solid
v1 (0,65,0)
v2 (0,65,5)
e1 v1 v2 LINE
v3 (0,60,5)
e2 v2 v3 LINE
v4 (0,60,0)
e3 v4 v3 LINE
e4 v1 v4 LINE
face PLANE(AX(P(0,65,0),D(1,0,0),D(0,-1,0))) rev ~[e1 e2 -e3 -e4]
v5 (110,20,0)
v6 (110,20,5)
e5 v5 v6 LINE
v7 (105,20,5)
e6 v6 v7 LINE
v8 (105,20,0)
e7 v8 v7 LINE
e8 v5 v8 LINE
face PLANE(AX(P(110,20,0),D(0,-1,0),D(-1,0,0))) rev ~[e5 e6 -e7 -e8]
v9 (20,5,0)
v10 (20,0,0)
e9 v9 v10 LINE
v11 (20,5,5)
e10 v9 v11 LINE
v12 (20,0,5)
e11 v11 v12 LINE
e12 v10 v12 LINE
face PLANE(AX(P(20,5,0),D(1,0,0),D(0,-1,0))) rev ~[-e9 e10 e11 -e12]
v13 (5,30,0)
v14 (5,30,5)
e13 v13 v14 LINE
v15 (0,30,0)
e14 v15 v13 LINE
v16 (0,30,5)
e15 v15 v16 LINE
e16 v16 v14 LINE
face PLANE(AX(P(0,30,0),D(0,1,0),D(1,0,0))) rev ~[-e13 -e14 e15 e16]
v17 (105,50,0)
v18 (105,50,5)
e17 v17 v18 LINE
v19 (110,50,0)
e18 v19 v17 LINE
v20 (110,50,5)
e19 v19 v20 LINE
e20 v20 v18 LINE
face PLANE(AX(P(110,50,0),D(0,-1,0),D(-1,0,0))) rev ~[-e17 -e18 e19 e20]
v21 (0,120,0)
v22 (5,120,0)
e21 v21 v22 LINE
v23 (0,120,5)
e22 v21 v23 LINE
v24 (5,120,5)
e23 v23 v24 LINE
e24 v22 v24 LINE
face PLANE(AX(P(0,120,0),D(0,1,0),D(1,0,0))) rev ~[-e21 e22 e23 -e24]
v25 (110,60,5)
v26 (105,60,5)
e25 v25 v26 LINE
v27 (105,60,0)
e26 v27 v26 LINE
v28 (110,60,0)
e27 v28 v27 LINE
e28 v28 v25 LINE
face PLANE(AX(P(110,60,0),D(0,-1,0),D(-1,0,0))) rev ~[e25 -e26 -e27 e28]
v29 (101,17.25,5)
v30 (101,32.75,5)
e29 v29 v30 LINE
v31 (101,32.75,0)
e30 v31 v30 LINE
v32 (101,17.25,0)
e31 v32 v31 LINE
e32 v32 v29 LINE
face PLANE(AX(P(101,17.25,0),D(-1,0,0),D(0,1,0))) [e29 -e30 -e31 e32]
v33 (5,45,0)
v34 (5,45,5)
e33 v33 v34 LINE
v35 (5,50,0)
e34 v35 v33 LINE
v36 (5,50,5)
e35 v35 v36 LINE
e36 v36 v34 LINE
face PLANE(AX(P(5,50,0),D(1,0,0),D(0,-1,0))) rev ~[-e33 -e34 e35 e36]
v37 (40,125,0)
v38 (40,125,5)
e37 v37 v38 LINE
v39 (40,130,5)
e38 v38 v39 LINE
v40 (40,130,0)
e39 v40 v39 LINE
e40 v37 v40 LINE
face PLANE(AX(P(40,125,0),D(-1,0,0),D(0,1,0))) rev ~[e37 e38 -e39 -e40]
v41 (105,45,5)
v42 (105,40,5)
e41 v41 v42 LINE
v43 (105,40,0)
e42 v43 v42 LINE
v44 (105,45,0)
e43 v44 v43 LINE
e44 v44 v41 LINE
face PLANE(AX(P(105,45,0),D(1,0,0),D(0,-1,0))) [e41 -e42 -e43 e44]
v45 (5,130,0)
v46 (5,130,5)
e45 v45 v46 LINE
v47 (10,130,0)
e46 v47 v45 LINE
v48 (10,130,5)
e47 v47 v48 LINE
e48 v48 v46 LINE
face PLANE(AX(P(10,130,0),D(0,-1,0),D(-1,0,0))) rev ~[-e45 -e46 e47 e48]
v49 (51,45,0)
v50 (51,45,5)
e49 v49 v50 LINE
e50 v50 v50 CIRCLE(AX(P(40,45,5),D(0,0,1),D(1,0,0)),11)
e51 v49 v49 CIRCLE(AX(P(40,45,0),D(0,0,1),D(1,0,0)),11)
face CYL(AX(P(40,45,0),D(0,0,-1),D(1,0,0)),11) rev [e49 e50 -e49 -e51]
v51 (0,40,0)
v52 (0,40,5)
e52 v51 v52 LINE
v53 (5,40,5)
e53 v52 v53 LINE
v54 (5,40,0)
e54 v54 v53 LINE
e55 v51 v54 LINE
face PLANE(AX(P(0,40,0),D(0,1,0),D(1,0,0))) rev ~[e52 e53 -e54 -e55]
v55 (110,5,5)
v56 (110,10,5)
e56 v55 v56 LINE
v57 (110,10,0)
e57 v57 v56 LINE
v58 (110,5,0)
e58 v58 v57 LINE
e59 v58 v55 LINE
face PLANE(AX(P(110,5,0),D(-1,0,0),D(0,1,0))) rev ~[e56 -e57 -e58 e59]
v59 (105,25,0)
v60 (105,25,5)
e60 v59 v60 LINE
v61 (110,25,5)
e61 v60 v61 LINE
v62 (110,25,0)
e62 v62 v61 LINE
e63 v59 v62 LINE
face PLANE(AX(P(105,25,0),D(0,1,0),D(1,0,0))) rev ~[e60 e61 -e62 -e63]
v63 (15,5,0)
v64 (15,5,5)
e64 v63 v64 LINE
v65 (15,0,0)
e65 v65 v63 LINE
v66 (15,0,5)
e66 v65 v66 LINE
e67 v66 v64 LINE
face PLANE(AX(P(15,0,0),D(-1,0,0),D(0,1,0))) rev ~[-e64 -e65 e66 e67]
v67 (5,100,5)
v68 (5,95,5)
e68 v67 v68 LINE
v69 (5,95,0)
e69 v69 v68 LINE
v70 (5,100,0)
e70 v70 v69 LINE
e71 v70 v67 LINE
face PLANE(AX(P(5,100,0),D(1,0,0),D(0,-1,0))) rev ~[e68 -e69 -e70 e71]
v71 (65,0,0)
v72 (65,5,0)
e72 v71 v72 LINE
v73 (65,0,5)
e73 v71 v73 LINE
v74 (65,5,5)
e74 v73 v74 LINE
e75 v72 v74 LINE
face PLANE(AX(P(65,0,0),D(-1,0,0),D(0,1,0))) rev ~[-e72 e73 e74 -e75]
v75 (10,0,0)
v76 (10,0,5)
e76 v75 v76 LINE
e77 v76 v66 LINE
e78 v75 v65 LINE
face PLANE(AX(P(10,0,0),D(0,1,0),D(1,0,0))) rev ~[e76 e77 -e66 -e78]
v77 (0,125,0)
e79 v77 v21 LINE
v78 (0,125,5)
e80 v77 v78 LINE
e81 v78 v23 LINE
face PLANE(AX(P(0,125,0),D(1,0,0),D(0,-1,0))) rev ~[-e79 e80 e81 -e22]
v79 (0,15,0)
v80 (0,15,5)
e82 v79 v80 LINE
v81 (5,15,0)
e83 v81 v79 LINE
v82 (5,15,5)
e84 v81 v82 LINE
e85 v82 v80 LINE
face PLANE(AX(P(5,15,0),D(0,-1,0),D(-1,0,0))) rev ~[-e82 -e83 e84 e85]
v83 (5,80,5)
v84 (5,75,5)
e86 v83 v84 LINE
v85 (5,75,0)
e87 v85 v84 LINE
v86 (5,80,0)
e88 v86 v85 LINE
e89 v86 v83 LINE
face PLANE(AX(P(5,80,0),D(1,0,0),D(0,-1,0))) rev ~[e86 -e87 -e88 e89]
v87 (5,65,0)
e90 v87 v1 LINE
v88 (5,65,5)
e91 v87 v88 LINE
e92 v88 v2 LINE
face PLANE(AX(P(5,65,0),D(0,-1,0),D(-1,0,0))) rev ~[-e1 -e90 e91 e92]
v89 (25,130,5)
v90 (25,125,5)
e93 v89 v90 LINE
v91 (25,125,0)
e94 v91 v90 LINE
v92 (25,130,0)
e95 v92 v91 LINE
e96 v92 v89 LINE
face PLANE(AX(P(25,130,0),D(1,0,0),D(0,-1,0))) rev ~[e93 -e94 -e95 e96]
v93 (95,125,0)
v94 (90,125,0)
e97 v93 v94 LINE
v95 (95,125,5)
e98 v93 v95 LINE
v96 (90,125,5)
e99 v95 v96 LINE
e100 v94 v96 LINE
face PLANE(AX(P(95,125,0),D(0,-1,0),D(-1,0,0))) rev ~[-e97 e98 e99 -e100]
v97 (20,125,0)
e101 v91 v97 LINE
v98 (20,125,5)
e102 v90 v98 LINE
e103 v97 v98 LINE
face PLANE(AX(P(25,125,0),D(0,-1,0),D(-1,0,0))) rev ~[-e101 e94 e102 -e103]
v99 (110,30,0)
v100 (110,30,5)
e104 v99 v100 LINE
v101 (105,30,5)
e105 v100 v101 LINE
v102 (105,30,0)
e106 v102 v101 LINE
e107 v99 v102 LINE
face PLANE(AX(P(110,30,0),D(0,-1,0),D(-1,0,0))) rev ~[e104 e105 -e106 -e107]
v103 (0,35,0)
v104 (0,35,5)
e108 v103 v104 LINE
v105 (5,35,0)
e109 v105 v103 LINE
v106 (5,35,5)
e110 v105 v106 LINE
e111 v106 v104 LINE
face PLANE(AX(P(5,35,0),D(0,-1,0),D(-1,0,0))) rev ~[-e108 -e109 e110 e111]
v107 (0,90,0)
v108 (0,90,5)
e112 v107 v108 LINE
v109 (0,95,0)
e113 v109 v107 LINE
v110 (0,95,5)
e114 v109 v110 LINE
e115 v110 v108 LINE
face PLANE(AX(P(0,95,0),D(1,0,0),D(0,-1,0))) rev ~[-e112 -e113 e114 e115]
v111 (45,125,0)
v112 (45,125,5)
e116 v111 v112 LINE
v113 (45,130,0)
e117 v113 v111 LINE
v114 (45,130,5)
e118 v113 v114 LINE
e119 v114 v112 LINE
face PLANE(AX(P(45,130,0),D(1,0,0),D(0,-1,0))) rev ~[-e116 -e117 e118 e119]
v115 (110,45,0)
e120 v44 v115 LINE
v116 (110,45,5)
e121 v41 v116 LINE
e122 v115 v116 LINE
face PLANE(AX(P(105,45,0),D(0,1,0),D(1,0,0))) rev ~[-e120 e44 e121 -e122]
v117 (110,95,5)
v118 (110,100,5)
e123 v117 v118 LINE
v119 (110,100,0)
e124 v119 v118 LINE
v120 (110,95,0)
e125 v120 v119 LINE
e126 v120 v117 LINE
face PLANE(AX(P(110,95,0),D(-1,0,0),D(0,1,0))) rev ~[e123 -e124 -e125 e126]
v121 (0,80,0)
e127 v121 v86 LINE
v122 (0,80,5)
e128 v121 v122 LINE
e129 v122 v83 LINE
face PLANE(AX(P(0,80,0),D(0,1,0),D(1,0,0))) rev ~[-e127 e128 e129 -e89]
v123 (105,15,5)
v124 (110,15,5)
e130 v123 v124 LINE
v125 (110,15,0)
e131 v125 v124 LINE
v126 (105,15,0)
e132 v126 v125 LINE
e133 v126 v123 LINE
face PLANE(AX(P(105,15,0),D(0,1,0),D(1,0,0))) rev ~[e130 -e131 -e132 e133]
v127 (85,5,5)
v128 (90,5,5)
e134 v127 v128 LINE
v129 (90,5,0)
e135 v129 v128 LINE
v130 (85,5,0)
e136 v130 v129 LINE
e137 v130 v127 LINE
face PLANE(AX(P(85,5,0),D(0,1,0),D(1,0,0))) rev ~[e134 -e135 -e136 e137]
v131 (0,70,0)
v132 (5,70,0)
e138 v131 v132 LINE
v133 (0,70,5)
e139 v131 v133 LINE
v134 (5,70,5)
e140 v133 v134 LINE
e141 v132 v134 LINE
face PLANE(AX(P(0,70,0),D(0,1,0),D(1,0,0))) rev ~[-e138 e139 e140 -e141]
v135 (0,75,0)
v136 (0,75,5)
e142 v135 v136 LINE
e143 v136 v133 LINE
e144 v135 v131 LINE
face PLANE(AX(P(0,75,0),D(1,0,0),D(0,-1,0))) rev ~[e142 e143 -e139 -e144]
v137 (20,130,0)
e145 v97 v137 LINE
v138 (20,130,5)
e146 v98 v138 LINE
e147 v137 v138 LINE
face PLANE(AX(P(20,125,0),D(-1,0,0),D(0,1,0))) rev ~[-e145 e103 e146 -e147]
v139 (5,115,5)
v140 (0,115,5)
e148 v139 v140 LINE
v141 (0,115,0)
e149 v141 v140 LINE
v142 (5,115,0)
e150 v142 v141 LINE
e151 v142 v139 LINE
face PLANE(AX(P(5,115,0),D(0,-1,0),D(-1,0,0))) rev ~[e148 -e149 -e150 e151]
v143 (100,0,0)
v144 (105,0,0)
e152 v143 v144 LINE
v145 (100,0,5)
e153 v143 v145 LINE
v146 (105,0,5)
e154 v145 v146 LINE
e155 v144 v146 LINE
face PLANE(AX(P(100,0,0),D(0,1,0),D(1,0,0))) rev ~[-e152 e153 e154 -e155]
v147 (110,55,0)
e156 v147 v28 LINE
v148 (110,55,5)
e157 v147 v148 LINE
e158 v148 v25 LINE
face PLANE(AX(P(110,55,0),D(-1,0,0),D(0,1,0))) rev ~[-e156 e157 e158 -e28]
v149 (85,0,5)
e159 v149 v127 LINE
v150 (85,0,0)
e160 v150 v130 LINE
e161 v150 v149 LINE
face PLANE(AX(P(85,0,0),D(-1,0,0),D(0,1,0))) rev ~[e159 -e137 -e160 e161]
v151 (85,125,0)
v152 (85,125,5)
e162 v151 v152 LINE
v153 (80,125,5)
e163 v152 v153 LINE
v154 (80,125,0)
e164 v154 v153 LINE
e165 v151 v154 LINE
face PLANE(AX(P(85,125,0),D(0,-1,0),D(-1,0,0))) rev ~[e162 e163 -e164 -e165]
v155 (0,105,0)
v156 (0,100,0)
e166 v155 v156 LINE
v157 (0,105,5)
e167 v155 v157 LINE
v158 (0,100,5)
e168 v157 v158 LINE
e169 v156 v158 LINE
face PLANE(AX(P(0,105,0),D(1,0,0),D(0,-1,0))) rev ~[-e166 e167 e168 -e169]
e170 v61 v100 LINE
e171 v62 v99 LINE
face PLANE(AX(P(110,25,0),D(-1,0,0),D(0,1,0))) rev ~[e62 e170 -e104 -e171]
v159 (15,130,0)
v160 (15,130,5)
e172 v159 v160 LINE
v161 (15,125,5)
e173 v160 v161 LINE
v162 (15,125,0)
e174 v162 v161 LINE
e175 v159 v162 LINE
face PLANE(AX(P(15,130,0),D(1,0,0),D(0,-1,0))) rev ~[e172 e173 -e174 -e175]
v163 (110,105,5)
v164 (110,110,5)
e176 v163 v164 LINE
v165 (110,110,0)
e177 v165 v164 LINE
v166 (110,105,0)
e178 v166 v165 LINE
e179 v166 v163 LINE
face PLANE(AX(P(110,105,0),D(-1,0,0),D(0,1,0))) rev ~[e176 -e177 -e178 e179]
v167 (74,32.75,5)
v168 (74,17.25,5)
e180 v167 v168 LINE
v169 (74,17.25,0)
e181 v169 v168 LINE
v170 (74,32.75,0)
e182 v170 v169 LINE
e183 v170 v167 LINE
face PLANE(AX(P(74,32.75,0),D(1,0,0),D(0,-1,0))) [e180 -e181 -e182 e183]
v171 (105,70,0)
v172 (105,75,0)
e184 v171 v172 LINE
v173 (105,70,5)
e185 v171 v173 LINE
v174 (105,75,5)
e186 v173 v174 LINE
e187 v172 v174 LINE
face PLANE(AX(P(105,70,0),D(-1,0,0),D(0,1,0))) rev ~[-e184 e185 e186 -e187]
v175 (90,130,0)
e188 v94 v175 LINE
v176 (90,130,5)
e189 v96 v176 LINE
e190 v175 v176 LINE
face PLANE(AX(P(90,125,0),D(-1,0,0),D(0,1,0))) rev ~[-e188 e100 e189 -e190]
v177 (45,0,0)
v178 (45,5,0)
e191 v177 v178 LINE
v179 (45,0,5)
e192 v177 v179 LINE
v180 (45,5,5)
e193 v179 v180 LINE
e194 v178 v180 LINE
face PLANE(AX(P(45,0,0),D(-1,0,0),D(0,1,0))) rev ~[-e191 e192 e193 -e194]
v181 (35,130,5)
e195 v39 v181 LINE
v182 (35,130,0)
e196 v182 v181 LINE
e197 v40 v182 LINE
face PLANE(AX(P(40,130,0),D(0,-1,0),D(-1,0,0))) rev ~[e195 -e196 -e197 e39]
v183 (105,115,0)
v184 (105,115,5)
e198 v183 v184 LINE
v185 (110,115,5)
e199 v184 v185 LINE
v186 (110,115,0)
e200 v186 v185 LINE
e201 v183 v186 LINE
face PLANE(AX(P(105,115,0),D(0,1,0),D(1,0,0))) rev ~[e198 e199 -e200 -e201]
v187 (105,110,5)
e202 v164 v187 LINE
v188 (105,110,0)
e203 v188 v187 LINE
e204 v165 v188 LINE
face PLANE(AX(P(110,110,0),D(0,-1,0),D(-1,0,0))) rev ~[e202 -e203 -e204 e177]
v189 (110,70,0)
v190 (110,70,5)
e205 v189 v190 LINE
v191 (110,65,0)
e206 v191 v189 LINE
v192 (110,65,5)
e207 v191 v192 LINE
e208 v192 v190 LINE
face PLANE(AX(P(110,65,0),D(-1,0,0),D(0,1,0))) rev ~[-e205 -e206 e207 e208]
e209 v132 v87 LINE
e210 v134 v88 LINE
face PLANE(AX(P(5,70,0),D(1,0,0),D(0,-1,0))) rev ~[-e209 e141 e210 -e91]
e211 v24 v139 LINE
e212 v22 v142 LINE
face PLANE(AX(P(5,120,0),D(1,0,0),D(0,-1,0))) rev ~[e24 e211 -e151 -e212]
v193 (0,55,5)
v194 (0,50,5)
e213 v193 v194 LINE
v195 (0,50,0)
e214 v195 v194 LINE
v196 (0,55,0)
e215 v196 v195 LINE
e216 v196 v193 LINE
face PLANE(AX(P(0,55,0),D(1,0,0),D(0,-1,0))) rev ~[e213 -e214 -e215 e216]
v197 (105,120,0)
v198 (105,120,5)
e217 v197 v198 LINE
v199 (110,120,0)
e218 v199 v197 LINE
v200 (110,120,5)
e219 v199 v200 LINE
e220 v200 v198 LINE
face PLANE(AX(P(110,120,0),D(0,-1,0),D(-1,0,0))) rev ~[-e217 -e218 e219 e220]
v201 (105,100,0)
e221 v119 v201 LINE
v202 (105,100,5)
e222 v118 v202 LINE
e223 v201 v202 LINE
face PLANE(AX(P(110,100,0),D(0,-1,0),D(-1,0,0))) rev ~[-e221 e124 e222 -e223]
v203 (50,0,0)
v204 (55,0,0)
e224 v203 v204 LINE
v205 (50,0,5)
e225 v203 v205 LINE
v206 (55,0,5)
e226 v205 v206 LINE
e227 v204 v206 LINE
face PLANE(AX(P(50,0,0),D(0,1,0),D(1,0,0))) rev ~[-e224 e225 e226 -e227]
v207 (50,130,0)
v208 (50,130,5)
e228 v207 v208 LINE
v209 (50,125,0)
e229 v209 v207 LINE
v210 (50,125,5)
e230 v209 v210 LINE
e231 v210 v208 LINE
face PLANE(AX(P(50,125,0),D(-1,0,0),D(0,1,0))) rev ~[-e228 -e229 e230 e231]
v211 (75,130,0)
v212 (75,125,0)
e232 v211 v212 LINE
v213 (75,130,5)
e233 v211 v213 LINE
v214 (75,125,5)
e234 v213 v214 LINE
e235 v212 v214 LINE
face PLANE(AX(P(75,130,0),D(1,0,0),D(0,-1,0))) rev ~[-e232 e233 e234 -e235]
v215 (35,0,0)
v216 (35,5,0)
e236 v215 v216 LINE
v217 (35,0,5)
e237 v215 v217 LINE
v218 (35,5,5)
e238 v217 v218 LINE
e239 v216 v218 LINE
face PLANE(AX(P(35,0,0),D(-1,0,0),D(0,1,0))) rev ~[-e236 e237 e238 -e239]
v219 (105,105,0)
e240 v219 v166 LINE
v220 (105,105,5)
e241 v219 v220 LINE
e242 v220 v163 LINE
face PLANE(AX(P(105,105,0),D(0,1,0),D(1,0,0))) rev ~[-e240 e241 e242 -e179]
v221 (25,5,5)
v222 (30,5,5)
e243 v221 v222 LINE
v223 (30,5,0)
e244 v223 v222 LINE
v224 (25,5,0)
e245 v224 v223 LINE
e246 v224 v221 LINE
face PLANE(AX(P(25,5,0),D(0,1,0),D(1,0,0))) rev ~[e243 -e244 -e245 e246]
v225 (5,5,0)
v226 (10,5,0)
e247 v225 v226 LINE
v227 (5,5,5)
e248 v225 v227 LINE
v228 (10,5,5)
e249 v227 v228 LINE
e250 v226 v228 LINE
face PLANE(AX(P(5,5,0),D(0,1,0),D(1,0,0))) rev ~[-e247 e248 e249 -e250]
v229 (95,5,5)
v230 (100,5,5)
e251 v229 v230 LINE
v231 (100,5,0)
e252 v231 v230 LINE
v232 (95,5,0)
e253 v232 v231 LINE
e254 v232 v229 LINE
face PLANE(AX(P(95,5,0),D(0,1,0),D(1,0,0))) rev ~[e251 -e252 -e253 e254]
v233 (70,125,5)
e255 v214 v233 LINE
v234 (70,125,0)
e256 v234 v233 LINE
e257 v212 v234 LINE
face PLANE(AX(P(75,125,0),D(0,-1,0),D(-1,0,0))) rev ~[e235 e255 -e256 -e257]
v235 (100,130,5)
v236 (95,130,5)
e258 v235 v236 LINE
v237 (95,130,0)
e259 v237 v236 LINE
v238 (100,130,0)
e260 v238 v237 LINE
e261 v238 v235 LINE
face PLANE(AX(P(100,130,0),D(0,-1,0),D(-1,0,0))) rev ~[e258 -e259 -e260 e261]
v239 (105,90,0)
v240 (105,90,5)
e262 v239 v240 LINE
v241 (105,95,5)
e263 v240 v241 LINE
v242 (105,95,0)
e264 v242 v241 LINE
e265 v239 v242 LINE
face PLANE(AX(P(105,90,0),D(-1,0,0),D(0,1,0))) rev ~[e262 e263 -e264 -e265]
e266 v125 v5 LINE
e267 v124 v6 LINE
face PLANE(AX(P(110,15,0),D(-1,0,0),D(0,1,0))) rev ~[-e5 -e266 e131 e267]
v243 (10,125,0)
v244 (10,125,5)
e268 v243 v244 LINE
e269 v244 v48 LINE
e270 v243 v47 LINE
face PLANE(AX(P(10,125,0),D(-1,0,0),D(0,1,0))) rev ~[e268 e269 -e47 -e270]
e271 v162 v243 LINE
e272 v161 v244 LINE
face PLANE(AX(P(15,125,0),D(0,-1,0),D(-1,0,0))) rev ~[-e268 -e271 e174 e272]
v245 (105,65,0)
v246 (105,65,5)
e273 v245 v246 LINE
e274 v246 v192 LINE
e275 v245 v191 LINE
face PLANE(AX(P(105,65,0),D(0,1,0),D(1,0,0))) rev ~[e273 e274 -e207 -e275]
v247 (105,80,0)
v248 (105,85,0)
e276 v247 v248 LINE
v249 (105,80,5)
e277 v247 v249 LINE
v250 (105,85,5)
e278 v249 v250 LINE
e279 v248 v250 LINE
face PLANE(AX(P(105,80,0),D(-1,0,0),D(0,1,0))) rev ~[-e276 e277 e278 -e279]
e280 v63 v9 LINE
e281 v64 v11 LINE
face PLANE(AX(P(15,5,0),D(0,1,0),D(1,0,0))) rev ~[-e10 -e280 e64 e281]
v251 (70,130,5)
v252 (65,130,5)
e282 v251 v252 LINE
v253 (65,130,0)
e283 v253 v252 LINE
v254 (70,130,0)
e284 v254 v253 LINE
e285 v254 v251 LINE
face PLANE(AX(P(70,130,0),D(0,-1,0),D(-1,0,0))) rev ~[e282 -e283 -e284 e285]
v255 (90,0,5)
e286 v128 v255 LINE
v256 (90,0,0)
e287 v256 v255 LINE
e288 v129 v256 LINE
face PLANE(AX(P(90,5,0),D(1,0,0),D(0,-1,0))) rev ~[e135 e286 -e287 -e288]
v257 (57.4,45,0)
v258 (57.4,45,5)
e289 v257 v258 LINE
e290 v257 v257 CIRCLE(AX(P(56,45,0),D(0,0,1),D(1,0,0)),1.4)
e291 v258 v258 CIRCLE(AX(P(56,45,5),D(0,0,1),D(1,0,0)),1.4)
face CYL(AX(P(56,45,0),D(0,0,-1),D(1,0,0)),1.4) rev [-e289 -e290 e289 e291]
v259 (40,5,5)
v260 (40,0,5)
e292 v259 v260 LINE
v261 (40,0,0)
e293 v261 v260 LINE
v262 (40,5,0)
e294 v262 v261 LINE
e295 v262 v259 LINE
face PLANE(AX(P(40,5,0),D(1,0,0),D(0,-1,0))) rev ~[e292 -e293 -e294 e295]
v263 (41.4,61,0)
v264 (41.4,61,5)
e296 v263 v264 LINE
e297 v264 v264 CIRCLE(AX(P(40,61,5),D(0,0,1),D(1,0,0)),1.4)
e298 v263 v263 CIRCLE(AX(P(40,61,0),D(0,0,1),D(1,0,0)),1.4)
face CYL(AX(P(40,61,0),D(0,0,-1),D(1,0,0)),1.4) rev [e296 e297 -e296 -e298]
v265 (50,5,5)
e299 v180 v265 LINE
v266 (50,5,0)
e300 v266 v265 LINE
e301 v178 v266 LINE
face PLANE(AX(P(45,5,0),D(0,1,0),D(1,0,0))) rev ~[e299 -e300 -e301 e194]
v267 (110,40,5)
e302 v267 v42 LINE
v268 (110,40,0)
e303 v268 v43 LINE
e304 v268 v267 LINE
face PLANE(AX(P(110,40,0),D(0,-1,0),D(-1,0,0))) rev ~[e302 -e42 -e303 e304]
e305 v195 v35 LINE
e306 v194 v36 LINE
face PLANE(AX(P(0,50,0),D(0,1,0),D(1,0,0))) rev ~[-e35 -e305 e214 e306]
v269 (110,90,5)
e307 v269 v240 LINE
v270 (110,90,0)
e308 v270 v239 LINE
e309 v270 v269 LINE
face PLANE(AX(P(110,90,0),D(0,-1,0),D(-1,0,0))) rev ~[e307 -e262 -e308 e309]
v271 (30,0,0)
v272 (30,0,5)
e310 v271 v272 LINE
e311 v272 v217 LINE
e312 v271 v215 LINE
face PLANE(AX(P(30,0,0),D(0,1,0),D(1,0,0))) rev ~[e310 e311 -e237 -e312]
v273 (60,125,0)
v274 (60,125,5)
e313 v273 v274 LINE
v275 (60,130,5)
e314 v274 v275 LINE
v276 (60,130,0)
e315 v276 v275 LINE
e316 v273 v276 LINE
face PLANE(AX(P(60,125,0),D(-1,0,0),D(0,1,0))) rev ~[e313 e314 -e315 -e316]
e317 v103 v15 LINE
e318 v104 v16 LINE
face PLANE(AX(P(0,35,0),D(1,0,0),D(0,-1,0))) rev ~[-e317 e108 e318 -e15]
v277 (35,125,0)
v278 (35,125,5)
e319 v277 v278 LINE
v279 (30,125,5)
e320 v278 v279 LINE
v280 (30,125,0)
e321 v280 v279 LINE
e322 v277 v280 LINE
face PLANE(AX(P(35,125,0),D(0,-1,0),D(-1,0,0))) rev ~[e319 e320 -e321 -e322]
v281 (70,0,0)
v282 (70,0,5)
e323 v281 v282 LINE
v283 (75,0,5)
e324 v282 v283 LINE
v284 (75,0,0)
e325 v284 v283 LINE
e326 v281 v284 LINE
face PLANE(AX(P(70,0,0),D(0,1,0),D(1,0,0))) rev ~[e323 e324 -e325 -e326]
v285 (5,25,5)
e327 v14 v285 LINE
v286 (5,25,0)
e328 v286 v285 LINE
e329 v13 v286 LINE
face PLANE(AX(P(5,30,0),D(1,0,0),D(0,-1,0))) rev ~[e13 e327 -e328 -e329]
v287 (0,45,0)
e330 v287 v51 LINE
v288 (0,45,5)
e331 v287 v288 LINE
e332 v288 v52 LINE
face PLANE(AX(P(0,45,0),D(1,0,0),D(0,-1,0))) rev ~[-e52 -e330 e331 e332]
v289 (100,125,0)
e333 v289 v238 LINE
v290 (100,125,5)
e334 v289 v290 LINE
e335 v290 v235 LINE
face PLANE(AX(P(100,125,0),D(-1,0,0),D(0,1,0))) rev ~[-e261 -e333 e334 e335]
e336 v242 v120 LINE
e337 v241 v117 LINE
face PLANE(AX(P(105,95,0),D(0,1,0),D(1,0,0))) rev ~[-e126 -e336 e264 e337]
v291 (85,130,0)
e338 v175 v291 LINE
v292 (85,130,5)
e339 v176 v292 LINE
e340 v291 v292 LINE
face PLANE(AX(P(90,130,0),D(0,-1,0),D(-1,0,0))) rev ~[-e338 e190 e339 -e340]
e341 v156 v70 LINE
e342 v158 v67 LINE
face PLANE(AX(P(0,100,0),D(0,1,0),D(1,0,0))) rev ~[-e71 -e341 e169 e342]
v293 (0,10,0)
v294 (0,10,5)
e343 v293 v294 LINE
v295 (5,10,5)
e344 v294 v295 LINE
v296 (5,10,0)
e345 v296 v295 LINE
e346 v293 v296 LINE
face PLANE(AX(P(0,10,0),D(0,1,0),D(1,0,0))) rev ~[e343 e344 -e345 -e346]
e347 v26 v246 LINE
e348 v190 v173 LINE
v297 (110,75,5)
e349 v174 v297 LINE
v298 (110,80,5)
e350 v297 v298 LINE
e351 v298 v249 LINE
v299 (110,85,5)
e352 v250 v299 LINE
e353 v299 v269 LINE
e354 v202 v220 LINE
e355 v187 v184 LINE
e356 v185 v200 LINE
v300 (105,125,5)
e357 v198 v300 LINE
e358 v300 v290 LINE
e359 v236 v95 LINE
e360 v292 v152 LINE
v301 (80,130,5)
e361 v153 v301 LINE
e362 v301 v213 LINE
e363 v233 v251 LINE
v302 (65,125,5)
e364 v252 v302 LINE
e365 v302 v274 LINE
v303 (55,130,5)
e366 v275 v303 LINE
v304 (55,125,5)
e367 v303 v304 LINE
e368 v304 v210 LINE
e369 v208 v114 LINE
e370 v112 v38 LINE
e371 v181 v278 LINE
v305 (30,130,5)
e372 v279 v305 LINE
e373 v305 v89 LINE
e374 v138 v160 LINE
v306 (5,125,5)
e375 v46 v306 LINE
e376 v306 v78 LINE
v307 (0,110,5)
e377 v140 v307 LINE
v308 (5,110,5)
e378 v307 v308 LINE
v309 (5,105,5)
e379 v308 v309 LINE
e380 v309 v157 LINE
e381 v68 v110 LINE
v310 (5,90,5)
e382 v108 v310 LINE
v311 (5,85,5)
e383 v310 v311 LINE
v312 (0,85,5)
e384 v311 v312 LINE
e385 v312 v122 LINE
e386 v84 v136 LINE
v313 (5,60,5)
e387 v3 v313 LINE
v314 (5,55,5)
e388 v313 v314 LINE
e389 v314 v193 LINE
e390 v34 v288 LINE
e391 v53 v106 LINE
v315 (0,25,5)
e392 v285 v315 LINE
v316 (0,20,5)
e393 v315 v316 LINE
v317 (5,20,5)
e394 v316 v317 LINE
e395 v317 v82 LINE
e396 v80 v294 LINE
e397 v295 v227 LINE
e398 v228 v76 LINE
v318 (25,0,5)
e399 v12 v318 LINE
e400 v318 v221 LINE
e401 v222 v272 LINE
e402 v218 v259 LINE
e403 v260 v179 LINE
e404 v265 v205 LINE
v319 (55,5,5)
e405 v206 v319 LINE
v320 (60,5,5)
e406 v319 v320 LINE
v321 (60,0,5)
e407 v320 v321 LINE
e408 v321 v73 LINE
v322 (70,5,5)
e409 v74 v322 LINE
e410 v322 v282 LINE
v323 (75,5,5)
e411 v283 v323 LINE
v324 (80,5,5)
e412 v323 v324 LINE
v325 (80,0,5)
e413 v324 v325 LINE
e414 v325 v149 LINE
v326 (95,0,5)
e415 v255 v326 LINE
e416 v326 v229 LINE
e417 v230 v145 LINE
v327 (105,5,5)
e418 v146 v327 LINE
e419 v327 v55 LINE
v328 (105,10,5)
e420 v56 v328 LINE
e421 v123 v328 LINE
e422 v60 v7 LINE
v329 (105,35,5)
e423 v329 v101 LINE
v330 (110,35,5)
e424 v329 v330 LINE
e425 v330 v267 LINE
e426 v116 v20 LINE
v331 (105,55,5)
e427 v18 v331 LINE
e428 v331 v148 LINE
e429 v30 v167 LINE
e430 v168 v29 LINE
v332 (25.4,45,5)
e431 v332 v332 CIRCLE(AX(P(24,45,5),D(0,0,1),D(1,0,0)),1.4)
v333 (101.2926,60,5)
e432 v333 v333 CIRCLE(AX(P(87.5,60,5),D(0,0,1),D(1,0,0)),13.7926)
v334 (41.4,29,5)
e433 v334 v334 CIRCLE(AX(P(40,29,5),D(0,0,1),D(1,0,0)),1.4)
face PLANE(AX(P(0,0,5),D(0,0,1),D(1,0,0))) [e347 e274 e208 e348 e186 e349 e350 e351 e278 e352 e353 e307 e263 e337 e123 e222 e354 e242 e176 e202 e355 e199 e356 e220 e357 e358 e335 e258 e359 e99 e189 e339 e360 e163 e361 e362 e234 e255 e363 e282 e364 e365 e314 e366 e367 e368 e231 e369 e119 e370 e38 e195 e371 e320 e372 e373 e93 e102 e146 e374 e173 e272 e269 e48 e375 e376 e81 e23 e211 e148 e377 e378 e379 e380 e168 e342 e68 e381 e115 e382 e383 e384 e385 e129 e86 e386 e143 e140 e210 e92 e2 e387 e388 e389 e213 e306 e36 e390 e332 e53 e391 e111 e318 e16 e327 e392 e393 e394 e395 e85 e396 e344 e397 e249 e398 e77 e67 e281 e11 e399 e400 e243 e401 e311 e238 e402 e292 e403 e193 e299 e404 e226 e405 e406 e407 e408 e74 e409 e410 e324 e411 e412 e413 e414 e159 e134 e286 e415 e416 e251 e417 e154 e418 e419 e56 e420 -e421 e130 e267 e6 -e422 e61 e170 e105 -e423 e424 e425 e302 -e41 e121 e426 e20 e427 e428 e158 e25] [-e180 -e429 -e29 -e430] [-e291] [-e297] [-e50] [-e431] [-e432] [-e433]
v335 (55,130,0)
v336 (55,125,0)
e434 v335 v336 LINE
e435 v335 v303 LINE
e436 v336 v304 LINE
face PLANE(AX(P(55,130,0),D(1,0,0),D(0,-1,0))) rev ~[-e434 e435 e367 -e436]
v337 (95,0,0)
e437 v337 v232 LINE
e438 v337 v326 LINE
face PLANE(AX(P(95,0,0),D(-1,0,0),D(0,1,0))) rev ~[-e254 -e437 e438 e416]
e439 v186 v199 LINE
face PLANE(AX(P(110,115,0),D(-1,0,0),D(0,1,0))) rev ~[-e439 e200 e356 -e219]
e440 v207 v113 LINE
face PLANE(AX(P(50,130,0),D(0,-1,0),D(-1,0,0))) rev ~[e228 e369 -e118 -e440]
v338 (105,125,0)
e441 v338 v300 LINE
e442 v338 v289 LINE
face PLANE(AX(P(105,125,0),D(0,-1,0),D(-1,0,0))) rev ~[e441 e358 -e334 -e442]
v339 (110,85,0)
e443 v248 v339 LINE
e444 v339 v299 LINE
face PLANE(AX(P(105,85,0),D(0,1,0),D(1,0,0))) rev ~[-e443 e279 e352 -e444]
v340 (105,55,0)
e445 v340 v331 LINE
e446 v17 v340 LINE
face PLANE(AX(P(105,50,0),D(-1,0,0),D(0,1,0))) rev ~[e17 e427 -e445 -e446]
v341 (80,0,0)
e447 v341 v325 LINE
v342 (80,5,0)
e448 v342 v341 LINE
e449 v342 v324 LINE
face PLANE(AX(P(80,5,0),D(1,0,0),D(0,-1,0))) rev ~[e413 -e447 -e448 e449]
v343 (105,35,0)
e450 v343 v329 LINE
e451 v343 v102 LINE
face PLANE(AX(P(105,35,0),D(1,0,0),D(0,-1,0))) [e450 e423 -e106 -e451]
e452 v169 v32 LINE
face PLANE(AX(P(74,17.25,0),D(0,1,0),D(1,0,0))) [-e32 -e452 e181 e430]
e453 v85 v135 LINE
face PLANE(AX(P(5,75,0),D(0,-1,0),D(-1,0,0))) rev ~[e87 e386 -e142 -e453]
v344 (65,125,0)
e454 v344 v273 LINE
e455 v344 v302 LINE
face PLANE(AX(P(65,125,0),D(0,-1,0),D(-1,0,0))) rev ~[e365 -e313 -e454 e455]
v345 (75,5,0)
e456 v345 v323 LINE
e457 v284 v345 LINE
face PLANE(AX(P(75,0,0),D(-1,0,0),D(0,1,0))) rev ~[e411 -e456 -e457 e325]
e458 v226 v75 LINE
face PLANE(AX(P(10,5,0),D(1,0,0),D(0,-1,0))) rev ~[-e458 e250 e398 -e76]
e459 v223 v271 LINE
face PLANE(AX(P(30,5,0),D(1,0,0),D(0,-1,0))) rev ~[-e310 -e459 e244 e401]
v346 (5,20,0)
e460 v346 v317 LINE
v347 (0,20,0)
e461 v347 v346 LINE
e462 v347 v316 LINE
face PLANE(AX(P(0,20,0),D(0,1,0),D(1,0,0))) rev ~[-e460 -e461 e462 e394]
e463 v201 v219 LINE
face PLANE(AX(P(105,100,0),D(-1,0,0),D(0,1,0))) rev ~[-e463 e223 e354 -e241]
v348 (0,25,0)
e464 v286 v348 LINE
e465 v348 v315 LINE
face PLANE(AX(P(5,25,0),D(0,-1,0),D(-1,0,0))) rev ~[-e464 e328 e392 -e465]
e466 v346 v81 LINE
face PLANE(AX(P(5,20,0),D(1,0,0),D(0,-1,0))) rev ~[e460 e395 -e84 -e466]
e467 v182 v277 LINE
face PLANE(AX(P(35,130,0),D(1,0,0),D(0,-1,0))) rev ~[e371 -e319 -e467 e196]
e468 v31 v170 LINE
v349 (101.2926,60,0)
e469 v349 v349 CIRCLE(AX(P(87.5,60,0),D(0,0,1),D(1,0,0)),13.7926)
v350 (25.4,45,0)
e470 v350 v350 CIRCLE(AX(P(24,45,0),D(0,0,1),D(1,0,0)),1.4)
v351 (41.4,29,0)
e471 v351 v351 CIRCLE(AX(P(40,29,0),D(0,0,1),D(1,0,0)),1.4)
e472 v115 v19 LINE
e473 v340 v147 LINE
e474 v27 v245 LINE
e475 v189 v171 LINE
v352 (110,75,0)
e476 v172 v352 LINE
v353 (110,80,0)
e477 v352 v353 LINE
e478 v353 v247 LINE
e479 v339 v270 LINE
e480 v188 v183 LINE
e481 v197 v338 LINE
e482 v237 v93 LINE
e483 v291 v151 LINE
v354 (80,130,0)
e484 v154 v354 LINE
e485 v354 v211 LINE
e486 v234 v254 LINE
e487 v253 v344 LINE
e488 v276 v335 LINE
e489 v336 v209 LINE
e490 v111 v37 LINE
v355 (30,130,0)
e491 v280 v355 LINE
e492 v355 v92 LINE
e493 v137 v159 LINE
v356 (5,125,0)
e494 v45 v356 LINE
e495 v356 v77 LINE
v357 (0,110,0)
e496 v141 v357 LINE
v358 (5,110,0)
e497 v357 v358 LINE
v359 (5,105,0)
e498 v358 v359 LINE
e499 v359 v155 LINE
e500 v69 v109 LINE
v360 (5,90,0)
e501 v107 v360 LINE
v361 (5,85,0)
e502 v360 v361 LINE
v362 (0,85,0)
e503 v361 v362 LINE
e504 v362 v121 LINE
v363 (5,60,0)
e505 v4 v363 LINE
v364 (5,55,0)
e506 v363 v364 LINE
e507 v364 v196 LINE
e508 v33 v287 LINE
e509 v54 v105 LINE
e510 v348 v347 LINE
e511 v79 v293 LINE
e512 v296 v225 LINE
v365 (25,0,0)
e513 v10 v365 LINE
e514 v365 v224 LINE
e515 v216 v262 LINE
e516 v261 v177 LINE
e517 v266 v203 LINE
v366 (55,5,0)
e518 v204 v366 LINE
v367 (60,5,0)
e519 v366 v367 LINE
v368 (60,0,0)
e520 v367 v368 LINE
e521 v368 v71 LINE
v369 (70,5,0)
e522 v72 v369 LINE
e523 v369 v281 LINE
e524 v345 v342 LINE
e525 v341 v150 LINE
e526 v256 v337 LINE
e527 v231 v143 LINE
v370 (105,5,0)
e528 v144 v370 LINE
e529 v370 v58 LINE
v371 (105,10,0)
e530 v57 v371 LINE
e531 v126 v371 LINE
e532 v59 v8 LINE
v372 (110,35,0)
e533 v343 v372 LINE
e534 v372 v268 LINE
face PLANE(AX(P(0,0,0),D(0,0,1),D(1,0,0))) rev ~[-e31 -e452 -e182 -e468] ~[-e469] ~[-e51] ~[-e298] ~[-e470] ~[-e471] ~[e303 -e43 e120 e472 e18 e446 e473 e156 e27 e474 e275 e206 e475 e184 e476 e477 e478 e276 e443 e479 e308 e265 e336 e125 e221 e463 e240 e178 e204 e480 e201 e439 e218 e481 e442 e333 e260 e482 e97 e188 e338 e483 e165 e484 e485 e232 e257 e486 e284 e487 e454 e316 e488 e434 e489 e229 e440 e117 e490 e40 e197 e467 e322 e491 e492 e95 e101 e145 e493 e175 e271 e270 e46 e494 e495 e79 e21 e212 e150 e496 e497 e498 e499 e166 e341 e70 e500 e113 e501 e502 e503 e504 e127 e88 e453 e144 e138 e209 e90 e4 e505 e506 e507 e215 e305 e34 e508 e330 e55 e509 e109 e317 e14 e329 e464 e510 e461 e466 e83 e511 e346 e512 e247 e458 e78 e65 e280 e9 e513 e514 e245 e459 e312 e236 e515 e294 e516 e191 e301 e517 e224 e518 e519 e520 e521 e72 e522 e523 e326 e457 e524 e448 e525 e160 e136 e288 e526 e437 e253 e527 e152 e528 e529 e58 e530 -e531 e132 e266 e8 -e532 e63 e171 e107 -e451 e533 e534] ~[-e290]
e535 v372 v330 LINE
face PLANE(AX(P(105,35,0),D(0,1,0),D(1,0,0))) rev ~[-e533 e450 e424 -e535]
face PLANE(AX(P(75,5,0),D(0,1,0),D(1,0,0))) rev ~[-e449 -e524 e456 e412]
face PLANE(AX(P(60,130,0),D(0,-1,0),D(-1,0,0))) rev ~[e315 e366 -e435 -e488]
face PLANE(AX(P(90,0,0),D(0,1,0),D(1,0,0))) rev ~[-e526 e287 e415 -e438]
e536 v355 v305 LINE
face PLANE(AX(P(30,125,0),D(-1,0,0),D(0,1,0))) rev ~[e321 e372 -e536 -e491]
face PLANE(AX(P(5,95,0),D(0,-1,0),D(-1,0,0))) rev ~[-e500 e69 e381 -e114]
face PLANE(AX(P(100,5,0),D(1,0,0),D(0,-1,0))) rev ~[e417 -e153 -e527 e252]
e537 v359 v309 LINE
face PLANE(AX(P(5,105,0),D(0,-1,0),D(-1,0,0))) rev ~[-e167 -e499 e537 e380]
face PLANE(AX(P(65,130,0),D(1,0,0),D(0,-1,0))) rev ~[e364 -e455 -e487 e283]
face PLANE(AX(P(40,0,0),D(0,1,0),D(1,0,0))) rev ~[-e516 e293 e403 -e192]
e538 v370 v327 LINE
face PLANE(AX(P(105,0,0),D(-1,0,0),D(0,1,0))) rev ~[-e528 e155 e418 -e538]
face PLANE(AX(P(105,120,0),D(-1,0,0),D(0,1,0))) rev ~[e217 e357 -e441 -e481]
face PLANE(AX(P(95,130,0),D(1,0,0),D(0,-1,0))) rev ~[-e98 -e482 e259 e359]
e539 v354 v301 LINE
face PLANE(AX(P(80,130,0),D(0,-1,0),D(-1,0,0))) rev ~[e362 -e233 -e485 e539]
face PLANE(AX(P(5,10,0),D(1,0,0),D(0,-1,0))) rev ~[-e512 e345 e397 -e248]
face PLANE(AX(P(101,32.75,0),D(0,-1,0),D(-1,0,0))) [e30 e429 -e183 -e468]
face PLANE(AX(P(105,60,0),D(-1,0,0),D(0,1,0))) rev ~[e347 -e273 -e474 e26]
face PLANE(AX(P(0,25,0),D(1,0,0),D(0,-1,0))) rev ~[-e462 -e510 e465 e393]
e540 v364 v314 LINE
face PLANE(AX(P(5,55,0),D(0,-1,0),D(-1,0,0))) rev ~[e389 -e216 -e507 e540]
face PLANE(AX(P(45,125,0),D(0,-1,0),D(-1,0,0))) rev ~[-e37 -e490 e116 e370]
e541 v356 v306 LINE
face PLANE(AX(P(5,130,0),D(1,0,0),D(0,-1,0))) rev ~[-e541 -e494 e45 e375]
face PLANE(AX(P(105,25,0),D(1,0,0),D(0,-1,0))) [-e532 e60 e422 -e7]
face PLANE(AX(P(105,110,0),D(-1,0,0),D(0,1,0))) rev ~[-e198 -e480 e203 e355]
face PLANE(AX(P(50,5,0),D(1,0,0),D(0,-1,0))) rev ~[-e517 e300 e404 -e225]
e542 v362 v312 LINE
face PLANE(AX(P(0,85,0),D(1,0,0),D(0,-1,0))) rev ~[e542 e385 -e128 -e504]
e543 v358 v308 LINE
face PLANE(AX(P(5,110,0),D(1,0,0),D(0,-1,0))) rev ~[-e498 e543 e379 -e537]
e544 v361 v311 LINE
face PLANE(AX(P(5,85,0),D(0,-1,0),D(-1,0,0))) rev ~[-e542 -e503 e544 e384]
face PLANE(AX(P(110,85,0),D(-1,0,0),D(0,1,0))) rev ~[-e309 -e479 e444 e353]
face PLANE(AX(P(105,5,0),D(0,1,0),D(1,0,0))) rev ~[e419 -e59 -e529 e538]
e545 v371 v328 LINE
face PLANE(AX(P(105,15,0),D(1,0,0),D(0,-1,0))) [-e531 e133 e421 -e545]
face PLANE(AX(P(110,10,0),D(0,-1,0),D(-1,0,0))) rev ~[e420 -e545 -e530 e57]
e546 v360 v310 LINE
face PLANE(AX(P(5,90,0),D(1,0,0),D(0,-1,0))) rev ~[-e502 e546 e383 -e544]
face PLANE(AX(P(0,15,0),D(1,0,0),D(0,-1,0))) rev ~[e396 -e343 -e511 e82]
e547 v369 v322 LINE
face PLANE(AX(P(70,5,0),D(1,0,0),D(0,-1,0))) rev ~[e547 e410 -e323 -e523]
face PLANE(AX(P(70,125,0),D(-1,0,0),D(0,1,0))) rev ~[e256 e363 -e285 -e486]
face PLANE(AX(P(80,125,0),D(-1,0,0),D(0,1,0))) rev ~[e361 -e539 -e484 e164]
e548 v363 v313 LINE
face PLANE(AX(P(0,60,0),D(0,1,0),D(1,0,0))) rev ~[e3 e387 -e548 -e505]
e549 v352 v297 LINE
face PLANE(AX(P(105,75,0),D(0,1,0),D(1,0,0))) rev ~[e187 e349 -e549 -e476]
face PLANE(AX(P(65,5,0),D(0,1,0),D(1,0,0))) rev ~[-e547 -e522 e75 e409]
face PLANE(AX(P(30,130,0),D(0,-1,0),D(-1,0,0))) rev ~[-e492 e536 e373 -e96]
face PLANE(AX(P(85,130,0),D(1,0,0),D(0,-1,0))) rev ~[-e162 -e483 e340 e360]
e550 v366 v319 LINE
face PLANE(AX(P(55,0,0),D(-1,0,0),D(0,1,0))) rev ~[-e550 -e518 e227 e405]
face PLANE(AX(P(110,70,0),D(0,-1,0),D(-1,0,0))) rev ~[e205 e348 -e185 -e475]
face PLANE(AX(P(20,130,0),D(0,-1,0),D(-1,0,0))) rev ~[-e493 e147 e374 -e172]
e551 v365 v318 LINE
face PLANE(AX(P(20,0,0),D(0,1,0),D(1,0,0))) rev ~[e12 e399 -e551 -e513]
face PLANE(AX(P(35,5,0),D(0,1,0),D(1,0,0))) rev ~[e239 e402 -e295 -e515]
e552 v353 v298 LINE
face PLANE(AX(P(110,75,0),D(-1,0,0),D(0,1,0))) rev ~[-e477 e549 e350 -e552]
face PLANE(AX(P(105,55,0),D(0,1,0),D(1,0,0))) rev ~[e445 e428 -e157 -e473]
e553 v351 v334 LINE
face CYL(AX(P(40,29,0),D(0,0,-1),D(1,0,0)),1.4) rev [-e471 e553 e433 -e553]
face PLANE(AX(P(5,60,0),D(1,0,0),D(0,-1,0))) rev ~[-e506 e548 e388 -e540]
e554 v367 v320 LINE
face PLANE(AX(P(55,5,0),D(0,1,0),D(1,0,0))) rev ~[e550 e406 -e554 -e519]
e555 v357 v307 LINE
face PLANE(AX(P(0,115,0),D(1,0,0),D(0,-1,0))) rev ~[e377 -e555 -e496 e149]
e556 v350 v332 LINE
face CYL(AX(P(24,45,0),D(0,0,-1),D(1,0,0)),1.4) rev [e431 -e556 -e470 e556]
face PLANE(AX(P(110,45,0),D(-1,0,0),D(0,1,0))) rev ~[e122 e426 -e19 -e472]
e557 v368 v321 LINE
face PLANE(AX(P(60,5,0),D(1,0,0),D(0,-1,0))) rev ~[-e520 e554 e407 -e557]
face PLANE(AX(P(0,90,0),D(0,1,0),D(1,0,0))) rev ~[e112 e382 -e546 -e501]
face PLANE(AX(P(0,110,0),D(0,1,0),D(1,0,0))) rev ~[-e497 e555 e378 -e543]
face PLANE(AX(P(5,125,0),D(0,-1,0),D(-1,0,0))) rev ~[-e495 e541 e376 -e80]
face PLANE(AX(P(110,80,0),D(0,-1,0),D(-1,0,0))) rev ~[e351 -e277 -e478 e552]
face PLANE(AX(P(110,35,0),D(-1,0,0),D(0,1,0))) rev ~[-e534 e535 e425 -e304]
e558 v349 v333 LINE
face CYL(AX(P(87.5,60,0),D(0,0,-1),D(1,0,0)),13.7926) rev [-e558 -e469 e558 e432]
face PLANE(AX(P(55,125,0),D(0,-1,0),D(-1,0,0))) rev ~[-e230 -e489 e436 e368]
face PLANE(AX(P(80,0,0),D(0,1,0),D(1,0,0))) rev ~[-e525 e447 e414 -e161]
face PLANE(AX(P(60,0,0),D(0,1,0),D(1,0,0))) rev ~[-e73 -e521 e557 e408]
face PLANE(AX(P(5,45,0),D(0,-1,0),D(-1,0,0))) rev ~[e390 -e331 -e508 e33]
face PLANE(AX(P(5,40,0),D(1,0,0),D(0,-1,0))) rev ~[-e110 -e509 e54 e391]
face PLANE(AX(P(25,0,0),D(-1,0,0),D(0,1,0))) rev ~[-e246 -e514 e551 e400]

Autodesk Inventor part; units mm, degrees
ref_plane "YZ Plane" through (0, 0, 0) normal (1, 0, 0) x (0, 1, 0)
ref_plane "XZ Plane" through (0, 0, 0) normal (0, 1, 0) x (-1, 0, 0)
ref_plane "XY Plane" through (0, 0, 0) normal (0, 0, 1) x (1, 0, 0)
sketch "Sketch1" plane through (0, 0, 0) normal (0, 0, 1) x (1, 0, 0)
  line L0 (5, 5) -> (105, 5)
  line L1 (105, 45) -> (105, 125)
  line L2 (105, 125) -> (5, 125)
  line L3 (5, 85) -> (5, 5)
  line L4 (0, 0) -> (5, 0)
  line L5 (5, 0) -> (5, 5)
  line L6 (5, 5) -> (0, 5)
  line L7 (0, 5) -> (0, 0)
  line L8 (105, 125) -> (110, 125)
  line L9 (110, 125) -> (110, 130)
  line L10 (110, 130) -> (105, 130)
  line L11 (105, 130) -> (105, 125)
  circle A0 centre (40, 45) radius 11
  circle A1 centre (24, 45) radius 1.4
  circle A2 centre (56, 45) radius 1.4
  circle A3 centre (40, 61) radius 1.4
  circle A4 centre (40, 29) radius 1.4
  circle A5 centre (87.5, 60) radius 13.7926
  line L12 (7.75, 7) -> (72.25, 7)
  line L13 (72.25, 7) -> (72.25, 83)
  line L14 (72.25, 83) -> (7.75, 83)
  line L15 (7.75, 83) -> (7.75, 7)
  line L16 (7.75, 7) -> (72.25, 83) construction
  line L17 (72.25, 7) -> (7.75, 83) construction
  line L18 (74, 17.25) -> (101, 17.25)
  line L19 (101, 17.25) -> (101, 32.75)
  line L20 (101, 32.75) -> (74, 32.75)
  line L21 (74, 32.75) -> (74, 17.25)
  line L22 (74, 17.25) -> (101, 32.75) construction
  line L23 (101, 17.25) -> (74, 32.75) construction
  line L24 (5, 125) -> (5, 85)
  line L25 (105, 45) -> (105, 5)
  line L26 (5, 15) -> (0, 15)
  line L27 (0, 10) -> (5, 10)
  line L28 (0, 15) -> (0, 10)
  line L29 (5, 10) -> (5, 15)
  line L30 (5, 25) -> (0, 25)
  line L31 (0, 20) -> (5, 20)
  line L32 (0, 25) -> (0, 20)
  line L33 (5, 20) -> (5, 25)
  line L34 (5, 35) -> (0, 35)
  line L35 (0, 30) -> (5, 30)
  line L36 (0, 35) -> (0, 30)
  line L37 (5, 30) -> (5, 35)
  line L38 (5, 45) -> (0, 45)
  line L39 (0, 40) -> (5, 40)
  line L40 (0, 45) -> (0, 40)
  line L41 (5, 40) -> (5, 45)
  line L42 (5, 55) -> (0, 55)
  line L43 (0, 50) -> (5, 50)
  line L44 (0, 55) -> (0, 50)
  line L45 (5, 50) -> (5, 55)
  line L46 (5, 65) -> (0, 65)
  line L47 (0, 60) -> (5, 60)
  line L48 (0, 65) -> (0, 60)
  line L49 (5, 60) -> (5, 65)
  line L50 (5, 75) -> (0, 75)
  line L51 (0, 70) -> (5, 70)
  line L52 (0, 75) -> (0, 70)
  line L53 (5, 70) -> (5, 75)
  line L54 (5, 85) -> (0, 85)
  line L55 (0, 80) -> (5, 80)
  line L56 (0, 85) -> (0, 80)
  line L57 (5, 80) -> (5, 85)
  line L58 (5, 95) -> (0, 95)
  line L59 (0, 90) -> (5, 90)
  line L60 (0, 95) -> (0, 90)
  line L61 (5, 90) -> (5, 95)
  line L62 (5, 105) -> (0, 105)
  line L63 (0, 100) -> (5, 100)
  line L64 (0, 105) -> (0, 100)
  line L65 (5, 100) -> (5, 105)
  line L66 (5, 115) -> (0, 115)
  line L67 (0, 110) -> (5, 110)
  line L68 (0, 115) -> (0, 110)
  line L69 (5, 110) -> (5, 115)
  line L70 (5, 125) -> (0, 125)
  line L71 (0, 120) -> (5, 120)
  line L72 (0, 125) -> (0, 120)
  line L73 (5, 120) -> (5, 125)
  line L74 (10, 0) -> (15, 0)
  line L75 (15, 0) -> (15, 5)
  line L76 (15, 5) -> (10, 5)
  line L77 (10, 5) -> (10, 0)
  line L78 (20, 0) -> (25, 0)
  line L79 (25, 0) -> (25, 5)
  line L80 (25, 5) -> (20, 5)
  line L81 (20, 5) -> (20, 0)
  line L82 (30, 0) -> (35, 0)
  line L83 (35, 0) -> (35, 5)
  line L84 (35, 5) -> (30, 5)
  line L85 (30, 5) -> (30, 0)
  line L86 (40, 0) -> (45, 0)
  line L87 (45, 0) -> (45, 5)
  line L88 (45, 5) -> (40, 5)
  line L89 (40, 5) -> (40, 0)
  line L90 (50, 0) -> (55, 0)
  line L91 (55, 0) -> (55, 5)
  line L92 (55, 5) -> (50, 5)
  line L93 (50, 5) -> (50, 0)
  line L94 (60, 0) -> (65, 0)
  line L95 (65, 0) -> (65, 5)
  line L96 (65, 5) -> (60, 5)
  line L97 (60, 5) -> (60, 0)
  line L98 (70, 0) -> (75, 0)
  line L99 (75, 0) -> (75, 5)
  line L100 (75, 5) -> (70, 5)
  line L101 (70, 5) -> (70, 0)
  line L102 (80, 0) -> (85, 0)
  line L103 (85, 0) -> (85, 5)
  line L104 (85, 5) -> (80, 5)
  line L105 (80, 5) -> (80, 0)
  line L106 (90, 0) -> (95, 0)
  line L107 (95, 0) -> (95, 5)
  line L108 (95, 5) -> (90, 5)
  line L109 (90, 5) -> (90, 0)
  line L110 (100, 0) -> (105, 0)
  line L111 (105, 0) -> (105, 5)
  line L112 (105, 5) -> (100, 5)
  line L113 (100, 5) -> (100, 0)
  line L114 (105, 120) -> (105, 115)
  line L115 (110, 120) -> (105, 120)
  line L116 (110, 115) -> (110, 120)
  line L117 (105, 115) -> (110, 115)
  line L118 (105, 110) -> (105, 105)
  line L119 (110, 110) -> (105, 110)
  line L120 (110, 105) -> (110, 110)
  line L121 (105, 105) -> (110, 105)
  line L122 (105, 100) -> (105, 95)
  line L123 (110, 100) -> (105, 100)
  line L124 (110, 95) -> (110, 100)
  line L125 (105, 95) -> (110, 95)
  line L126 (105, 90) -> (105, 85)
  line L127 (110, 90) -> (105, 90)
  line L128 (110, 85) -> (110, 90)
  line L129 (105, 85) -> (110, 85)
  line L130 (105, 80) -> (105, 75)
  line L131 (110, 80) -> (105, 80)
  line L132 (110, 75) -> (110, 80)
  line L133 (105, 75) -> (110, 75)
  line L134 (105, 70) -> (105, 65)
  line L135 (110, 70) -> (105, 70)
  line L136 (110, 65) -> (110, 70)
  line L137 (105, 65) -> (110, 65)
  line L138 (105, 60) -> (105, 55)
  line L139 (110, 60) -> (105, 60)
  line L140 (110, 55) -> (110, 60)
  line L141 (105, 55) -> (110, 55)
  line L142 (105, 50) -> (105, 45)
  line L143 (110, 50) -> (105, 50)
  line L144 (110, 45) -> (110, 50)
  line L145 (105, 45) -> (110, 45)
  line L146 (105, 40) -> (105, 35)
  line L147 (110, 40) -> (105, 40)
  line L148 (110, 35) -> (110, 40)
  line L149 (105, 35) -> (110, 35)
  line L150 (105, 30) -> (105, 25)
  line L151 (110, 30) -> (105, 30)
  line L152 (110, 25) -> (110, 30)
  line L153 (105, 25) -> (110, 25)
  line L154 (105, 20) -> (105, 15)
  line L155 (110, 20) -> (105, 20)
  line L156 (110, 15) -> (110, 20)
  line L157 (105, 15) -> (110, 15)
  line L158 (105, 10) -> (105, 5)
  line L159 (110, 10) -> (105, 10)
  line L160 (110, 5) -> (110, 10)
  line L161 (105, 5) -> (110, 5)
  line L162 (95, 130) -> (95, 125)
  line L163 (100, 130) -> (95, 130)
  line L164 (100, 125) -> (100, 130)
  line L165 (95, 125) -> (100, 125)
  line L166 (85, 130) -> (85, 125)
  line L167 (90, 130) -> (85, 130)
  line L168 (90, 125) -> (90, 130)
  line L169 (85, 125) -> (90, 125)
  line L170 (75, 130) -> (75, 125)
  line L171 (80, 130) -> (75, 130)
  line L172 (80, 125) -> (80, 130)
  line L173 (75, 125) -> (80, 125)
  line L174 (65, 130) -> (65, 125)
  line L175 (70, 130) -> (65, 130)
  line L176 (70, 125) -> (70, 130)
  line L177 (65, 125) -> (70, 125)
  line L178 (55, 130) -> (55, 125)
  line L179 (60, 130) -> (55, 130)
  line L180 (60, 125) -> (60, 130)
  line L181 (55, 125) -> (60, 125)
  line L182 (45, 130) -> (45, 125)
  line L183 (50, 130) -> (45, 130)
  line L184 (50, 125) -> (50, 130)
  line L185 (45, 125) -> (50, 125)
  line L186 (35, 130) -> (35, 125)
  line L187 (40, 130) -> (35, 130)
  line L188 (40, 125) -> (40, 130)
  line L189 (35, 125) -> (40, 125)
  line L190 (25, 130) -> (25, 125)
  line L191 (30, 130) -> (25, 130)
  line L192 (30, 125) -> (30, 130)
  line L193 (25, 125) -> (30, 125)
  line L194 (15, 130) -> (15, 125)
  line L195 (20, 130) -> (15, 130)
  line L196 (20, 125) -> (20, 130)
  line L197 (15, 125) -> (20, 125)
  line L198 (5, 130) -> (5, 125)
  line L199 (10, 130) -> (5, 130)
  line L200 (10, 125) -> (10, 130)
  line L201 (5, 125) -> (10, 125)
  point P0 (87.5, 25)
  point P1 (7.75, 17)
  point P2 (7.75, 27)
  point P3 (7.75, 37)
  point P4 (7.75, 47)
  point P5 (7.75, 57)
  point P6 (7.75, 67)
  point P7 (7.75, 77)
  point P8 (7.75, 87)
  point P9 (7.75, 97)
  point P10 (7.75, 107)
  point P11 (7.75, 117)
  point P12 (7.75, 127)
  point P13 (105, 115)
  point P14 (105, 105)
  point P15 (105, 95)
  point P16 (105, 85)
  point P17 (105, 75)
  point P18 (105, 65)
  point P19 (105, 55)
  point P20 (105, 35)
  point P21 (105, 25)
  point P22 (105, 15)
  point P23 (95, 125)
  point P24 (85, 125)
  point P25 (75, 125)
  point P26 (65, 125)
  point P27 (55, 125)
  point P28 (45, 125)
  point P29 (35, 125)
  point P30 (25, 125)
  point P31 (15, 125)
  point P32 (5, 125)
  dimension "d0" = 100
  dimension "d1" = 80
  dimension "d16" = 5
  dimension "d17" = 5
  dimension "d32" = 22
  dimension "d33" = 2.8
  dimension "d34" = 2.8
  dimension "d35" = 2.8
  dimension "d36" = 2.8
  dimension "d39" = 10
  dimension "d46" = 10
  dimension "d53" = 10
  dimension "d60" = 10
  dimension "d67" = 40
extrude "Extrusion1" add sketch "Sketch1" along normal blind 5 contours L3 L24 L2 L1 L25 L0 | L0 L75 L74 L77 | L27 L28 L26 L3 | L0 L79 L78 L81 | L31 L32 L30 L3 | L0 L83 L82 L85 | L35 L36 L34 L3 | L0 L87 L86 L89 | L39 L40 L38 L3 | L0 L91 L90 L93 | L43 L44 L42 L3 | L0 L95 L94 L97 | L47 L48 L46 L3 | L0 L99 L98 L101 | L51 L52 L50 L3 | L0 L103 L102 L105 | L55 L56 L54 L3 | L0 L107 L106 L109 | L59 L60 L58 L24 | L0 L111 L110 L113 | L63 L64 L62 L24 | L25 L159 L160 L161 | L67 L68 L66 L24 | L25 L155 L156 L157 | L71 L72 L70 L24 | L25 L151 L152 L153 | L198 L199 L200 L2 | L25 L147 L148 L149 | L194 L195 L196 L2 | L1 L143 L144 L145 | L190 L191 L192 L2 | L1 L139 L140 L141 | L186 L187 L188 L2 | L1 L135 L136 L137 | L182 L183 L184 L2 | L1 L131 L132 L133 | L178 L179 L180 L2 | L1 L127 L128 L129 | L174 L175 L176 L2 | L1 L123 L124 L125 | L170 L171 L172 L2 | L1 L119 L120 L121 | L166 L167 L168 L2 | L1 L115 L116 L117 | L162 L163 L164 L2 | L15 L14 L13 L12
properties part number "topside"
